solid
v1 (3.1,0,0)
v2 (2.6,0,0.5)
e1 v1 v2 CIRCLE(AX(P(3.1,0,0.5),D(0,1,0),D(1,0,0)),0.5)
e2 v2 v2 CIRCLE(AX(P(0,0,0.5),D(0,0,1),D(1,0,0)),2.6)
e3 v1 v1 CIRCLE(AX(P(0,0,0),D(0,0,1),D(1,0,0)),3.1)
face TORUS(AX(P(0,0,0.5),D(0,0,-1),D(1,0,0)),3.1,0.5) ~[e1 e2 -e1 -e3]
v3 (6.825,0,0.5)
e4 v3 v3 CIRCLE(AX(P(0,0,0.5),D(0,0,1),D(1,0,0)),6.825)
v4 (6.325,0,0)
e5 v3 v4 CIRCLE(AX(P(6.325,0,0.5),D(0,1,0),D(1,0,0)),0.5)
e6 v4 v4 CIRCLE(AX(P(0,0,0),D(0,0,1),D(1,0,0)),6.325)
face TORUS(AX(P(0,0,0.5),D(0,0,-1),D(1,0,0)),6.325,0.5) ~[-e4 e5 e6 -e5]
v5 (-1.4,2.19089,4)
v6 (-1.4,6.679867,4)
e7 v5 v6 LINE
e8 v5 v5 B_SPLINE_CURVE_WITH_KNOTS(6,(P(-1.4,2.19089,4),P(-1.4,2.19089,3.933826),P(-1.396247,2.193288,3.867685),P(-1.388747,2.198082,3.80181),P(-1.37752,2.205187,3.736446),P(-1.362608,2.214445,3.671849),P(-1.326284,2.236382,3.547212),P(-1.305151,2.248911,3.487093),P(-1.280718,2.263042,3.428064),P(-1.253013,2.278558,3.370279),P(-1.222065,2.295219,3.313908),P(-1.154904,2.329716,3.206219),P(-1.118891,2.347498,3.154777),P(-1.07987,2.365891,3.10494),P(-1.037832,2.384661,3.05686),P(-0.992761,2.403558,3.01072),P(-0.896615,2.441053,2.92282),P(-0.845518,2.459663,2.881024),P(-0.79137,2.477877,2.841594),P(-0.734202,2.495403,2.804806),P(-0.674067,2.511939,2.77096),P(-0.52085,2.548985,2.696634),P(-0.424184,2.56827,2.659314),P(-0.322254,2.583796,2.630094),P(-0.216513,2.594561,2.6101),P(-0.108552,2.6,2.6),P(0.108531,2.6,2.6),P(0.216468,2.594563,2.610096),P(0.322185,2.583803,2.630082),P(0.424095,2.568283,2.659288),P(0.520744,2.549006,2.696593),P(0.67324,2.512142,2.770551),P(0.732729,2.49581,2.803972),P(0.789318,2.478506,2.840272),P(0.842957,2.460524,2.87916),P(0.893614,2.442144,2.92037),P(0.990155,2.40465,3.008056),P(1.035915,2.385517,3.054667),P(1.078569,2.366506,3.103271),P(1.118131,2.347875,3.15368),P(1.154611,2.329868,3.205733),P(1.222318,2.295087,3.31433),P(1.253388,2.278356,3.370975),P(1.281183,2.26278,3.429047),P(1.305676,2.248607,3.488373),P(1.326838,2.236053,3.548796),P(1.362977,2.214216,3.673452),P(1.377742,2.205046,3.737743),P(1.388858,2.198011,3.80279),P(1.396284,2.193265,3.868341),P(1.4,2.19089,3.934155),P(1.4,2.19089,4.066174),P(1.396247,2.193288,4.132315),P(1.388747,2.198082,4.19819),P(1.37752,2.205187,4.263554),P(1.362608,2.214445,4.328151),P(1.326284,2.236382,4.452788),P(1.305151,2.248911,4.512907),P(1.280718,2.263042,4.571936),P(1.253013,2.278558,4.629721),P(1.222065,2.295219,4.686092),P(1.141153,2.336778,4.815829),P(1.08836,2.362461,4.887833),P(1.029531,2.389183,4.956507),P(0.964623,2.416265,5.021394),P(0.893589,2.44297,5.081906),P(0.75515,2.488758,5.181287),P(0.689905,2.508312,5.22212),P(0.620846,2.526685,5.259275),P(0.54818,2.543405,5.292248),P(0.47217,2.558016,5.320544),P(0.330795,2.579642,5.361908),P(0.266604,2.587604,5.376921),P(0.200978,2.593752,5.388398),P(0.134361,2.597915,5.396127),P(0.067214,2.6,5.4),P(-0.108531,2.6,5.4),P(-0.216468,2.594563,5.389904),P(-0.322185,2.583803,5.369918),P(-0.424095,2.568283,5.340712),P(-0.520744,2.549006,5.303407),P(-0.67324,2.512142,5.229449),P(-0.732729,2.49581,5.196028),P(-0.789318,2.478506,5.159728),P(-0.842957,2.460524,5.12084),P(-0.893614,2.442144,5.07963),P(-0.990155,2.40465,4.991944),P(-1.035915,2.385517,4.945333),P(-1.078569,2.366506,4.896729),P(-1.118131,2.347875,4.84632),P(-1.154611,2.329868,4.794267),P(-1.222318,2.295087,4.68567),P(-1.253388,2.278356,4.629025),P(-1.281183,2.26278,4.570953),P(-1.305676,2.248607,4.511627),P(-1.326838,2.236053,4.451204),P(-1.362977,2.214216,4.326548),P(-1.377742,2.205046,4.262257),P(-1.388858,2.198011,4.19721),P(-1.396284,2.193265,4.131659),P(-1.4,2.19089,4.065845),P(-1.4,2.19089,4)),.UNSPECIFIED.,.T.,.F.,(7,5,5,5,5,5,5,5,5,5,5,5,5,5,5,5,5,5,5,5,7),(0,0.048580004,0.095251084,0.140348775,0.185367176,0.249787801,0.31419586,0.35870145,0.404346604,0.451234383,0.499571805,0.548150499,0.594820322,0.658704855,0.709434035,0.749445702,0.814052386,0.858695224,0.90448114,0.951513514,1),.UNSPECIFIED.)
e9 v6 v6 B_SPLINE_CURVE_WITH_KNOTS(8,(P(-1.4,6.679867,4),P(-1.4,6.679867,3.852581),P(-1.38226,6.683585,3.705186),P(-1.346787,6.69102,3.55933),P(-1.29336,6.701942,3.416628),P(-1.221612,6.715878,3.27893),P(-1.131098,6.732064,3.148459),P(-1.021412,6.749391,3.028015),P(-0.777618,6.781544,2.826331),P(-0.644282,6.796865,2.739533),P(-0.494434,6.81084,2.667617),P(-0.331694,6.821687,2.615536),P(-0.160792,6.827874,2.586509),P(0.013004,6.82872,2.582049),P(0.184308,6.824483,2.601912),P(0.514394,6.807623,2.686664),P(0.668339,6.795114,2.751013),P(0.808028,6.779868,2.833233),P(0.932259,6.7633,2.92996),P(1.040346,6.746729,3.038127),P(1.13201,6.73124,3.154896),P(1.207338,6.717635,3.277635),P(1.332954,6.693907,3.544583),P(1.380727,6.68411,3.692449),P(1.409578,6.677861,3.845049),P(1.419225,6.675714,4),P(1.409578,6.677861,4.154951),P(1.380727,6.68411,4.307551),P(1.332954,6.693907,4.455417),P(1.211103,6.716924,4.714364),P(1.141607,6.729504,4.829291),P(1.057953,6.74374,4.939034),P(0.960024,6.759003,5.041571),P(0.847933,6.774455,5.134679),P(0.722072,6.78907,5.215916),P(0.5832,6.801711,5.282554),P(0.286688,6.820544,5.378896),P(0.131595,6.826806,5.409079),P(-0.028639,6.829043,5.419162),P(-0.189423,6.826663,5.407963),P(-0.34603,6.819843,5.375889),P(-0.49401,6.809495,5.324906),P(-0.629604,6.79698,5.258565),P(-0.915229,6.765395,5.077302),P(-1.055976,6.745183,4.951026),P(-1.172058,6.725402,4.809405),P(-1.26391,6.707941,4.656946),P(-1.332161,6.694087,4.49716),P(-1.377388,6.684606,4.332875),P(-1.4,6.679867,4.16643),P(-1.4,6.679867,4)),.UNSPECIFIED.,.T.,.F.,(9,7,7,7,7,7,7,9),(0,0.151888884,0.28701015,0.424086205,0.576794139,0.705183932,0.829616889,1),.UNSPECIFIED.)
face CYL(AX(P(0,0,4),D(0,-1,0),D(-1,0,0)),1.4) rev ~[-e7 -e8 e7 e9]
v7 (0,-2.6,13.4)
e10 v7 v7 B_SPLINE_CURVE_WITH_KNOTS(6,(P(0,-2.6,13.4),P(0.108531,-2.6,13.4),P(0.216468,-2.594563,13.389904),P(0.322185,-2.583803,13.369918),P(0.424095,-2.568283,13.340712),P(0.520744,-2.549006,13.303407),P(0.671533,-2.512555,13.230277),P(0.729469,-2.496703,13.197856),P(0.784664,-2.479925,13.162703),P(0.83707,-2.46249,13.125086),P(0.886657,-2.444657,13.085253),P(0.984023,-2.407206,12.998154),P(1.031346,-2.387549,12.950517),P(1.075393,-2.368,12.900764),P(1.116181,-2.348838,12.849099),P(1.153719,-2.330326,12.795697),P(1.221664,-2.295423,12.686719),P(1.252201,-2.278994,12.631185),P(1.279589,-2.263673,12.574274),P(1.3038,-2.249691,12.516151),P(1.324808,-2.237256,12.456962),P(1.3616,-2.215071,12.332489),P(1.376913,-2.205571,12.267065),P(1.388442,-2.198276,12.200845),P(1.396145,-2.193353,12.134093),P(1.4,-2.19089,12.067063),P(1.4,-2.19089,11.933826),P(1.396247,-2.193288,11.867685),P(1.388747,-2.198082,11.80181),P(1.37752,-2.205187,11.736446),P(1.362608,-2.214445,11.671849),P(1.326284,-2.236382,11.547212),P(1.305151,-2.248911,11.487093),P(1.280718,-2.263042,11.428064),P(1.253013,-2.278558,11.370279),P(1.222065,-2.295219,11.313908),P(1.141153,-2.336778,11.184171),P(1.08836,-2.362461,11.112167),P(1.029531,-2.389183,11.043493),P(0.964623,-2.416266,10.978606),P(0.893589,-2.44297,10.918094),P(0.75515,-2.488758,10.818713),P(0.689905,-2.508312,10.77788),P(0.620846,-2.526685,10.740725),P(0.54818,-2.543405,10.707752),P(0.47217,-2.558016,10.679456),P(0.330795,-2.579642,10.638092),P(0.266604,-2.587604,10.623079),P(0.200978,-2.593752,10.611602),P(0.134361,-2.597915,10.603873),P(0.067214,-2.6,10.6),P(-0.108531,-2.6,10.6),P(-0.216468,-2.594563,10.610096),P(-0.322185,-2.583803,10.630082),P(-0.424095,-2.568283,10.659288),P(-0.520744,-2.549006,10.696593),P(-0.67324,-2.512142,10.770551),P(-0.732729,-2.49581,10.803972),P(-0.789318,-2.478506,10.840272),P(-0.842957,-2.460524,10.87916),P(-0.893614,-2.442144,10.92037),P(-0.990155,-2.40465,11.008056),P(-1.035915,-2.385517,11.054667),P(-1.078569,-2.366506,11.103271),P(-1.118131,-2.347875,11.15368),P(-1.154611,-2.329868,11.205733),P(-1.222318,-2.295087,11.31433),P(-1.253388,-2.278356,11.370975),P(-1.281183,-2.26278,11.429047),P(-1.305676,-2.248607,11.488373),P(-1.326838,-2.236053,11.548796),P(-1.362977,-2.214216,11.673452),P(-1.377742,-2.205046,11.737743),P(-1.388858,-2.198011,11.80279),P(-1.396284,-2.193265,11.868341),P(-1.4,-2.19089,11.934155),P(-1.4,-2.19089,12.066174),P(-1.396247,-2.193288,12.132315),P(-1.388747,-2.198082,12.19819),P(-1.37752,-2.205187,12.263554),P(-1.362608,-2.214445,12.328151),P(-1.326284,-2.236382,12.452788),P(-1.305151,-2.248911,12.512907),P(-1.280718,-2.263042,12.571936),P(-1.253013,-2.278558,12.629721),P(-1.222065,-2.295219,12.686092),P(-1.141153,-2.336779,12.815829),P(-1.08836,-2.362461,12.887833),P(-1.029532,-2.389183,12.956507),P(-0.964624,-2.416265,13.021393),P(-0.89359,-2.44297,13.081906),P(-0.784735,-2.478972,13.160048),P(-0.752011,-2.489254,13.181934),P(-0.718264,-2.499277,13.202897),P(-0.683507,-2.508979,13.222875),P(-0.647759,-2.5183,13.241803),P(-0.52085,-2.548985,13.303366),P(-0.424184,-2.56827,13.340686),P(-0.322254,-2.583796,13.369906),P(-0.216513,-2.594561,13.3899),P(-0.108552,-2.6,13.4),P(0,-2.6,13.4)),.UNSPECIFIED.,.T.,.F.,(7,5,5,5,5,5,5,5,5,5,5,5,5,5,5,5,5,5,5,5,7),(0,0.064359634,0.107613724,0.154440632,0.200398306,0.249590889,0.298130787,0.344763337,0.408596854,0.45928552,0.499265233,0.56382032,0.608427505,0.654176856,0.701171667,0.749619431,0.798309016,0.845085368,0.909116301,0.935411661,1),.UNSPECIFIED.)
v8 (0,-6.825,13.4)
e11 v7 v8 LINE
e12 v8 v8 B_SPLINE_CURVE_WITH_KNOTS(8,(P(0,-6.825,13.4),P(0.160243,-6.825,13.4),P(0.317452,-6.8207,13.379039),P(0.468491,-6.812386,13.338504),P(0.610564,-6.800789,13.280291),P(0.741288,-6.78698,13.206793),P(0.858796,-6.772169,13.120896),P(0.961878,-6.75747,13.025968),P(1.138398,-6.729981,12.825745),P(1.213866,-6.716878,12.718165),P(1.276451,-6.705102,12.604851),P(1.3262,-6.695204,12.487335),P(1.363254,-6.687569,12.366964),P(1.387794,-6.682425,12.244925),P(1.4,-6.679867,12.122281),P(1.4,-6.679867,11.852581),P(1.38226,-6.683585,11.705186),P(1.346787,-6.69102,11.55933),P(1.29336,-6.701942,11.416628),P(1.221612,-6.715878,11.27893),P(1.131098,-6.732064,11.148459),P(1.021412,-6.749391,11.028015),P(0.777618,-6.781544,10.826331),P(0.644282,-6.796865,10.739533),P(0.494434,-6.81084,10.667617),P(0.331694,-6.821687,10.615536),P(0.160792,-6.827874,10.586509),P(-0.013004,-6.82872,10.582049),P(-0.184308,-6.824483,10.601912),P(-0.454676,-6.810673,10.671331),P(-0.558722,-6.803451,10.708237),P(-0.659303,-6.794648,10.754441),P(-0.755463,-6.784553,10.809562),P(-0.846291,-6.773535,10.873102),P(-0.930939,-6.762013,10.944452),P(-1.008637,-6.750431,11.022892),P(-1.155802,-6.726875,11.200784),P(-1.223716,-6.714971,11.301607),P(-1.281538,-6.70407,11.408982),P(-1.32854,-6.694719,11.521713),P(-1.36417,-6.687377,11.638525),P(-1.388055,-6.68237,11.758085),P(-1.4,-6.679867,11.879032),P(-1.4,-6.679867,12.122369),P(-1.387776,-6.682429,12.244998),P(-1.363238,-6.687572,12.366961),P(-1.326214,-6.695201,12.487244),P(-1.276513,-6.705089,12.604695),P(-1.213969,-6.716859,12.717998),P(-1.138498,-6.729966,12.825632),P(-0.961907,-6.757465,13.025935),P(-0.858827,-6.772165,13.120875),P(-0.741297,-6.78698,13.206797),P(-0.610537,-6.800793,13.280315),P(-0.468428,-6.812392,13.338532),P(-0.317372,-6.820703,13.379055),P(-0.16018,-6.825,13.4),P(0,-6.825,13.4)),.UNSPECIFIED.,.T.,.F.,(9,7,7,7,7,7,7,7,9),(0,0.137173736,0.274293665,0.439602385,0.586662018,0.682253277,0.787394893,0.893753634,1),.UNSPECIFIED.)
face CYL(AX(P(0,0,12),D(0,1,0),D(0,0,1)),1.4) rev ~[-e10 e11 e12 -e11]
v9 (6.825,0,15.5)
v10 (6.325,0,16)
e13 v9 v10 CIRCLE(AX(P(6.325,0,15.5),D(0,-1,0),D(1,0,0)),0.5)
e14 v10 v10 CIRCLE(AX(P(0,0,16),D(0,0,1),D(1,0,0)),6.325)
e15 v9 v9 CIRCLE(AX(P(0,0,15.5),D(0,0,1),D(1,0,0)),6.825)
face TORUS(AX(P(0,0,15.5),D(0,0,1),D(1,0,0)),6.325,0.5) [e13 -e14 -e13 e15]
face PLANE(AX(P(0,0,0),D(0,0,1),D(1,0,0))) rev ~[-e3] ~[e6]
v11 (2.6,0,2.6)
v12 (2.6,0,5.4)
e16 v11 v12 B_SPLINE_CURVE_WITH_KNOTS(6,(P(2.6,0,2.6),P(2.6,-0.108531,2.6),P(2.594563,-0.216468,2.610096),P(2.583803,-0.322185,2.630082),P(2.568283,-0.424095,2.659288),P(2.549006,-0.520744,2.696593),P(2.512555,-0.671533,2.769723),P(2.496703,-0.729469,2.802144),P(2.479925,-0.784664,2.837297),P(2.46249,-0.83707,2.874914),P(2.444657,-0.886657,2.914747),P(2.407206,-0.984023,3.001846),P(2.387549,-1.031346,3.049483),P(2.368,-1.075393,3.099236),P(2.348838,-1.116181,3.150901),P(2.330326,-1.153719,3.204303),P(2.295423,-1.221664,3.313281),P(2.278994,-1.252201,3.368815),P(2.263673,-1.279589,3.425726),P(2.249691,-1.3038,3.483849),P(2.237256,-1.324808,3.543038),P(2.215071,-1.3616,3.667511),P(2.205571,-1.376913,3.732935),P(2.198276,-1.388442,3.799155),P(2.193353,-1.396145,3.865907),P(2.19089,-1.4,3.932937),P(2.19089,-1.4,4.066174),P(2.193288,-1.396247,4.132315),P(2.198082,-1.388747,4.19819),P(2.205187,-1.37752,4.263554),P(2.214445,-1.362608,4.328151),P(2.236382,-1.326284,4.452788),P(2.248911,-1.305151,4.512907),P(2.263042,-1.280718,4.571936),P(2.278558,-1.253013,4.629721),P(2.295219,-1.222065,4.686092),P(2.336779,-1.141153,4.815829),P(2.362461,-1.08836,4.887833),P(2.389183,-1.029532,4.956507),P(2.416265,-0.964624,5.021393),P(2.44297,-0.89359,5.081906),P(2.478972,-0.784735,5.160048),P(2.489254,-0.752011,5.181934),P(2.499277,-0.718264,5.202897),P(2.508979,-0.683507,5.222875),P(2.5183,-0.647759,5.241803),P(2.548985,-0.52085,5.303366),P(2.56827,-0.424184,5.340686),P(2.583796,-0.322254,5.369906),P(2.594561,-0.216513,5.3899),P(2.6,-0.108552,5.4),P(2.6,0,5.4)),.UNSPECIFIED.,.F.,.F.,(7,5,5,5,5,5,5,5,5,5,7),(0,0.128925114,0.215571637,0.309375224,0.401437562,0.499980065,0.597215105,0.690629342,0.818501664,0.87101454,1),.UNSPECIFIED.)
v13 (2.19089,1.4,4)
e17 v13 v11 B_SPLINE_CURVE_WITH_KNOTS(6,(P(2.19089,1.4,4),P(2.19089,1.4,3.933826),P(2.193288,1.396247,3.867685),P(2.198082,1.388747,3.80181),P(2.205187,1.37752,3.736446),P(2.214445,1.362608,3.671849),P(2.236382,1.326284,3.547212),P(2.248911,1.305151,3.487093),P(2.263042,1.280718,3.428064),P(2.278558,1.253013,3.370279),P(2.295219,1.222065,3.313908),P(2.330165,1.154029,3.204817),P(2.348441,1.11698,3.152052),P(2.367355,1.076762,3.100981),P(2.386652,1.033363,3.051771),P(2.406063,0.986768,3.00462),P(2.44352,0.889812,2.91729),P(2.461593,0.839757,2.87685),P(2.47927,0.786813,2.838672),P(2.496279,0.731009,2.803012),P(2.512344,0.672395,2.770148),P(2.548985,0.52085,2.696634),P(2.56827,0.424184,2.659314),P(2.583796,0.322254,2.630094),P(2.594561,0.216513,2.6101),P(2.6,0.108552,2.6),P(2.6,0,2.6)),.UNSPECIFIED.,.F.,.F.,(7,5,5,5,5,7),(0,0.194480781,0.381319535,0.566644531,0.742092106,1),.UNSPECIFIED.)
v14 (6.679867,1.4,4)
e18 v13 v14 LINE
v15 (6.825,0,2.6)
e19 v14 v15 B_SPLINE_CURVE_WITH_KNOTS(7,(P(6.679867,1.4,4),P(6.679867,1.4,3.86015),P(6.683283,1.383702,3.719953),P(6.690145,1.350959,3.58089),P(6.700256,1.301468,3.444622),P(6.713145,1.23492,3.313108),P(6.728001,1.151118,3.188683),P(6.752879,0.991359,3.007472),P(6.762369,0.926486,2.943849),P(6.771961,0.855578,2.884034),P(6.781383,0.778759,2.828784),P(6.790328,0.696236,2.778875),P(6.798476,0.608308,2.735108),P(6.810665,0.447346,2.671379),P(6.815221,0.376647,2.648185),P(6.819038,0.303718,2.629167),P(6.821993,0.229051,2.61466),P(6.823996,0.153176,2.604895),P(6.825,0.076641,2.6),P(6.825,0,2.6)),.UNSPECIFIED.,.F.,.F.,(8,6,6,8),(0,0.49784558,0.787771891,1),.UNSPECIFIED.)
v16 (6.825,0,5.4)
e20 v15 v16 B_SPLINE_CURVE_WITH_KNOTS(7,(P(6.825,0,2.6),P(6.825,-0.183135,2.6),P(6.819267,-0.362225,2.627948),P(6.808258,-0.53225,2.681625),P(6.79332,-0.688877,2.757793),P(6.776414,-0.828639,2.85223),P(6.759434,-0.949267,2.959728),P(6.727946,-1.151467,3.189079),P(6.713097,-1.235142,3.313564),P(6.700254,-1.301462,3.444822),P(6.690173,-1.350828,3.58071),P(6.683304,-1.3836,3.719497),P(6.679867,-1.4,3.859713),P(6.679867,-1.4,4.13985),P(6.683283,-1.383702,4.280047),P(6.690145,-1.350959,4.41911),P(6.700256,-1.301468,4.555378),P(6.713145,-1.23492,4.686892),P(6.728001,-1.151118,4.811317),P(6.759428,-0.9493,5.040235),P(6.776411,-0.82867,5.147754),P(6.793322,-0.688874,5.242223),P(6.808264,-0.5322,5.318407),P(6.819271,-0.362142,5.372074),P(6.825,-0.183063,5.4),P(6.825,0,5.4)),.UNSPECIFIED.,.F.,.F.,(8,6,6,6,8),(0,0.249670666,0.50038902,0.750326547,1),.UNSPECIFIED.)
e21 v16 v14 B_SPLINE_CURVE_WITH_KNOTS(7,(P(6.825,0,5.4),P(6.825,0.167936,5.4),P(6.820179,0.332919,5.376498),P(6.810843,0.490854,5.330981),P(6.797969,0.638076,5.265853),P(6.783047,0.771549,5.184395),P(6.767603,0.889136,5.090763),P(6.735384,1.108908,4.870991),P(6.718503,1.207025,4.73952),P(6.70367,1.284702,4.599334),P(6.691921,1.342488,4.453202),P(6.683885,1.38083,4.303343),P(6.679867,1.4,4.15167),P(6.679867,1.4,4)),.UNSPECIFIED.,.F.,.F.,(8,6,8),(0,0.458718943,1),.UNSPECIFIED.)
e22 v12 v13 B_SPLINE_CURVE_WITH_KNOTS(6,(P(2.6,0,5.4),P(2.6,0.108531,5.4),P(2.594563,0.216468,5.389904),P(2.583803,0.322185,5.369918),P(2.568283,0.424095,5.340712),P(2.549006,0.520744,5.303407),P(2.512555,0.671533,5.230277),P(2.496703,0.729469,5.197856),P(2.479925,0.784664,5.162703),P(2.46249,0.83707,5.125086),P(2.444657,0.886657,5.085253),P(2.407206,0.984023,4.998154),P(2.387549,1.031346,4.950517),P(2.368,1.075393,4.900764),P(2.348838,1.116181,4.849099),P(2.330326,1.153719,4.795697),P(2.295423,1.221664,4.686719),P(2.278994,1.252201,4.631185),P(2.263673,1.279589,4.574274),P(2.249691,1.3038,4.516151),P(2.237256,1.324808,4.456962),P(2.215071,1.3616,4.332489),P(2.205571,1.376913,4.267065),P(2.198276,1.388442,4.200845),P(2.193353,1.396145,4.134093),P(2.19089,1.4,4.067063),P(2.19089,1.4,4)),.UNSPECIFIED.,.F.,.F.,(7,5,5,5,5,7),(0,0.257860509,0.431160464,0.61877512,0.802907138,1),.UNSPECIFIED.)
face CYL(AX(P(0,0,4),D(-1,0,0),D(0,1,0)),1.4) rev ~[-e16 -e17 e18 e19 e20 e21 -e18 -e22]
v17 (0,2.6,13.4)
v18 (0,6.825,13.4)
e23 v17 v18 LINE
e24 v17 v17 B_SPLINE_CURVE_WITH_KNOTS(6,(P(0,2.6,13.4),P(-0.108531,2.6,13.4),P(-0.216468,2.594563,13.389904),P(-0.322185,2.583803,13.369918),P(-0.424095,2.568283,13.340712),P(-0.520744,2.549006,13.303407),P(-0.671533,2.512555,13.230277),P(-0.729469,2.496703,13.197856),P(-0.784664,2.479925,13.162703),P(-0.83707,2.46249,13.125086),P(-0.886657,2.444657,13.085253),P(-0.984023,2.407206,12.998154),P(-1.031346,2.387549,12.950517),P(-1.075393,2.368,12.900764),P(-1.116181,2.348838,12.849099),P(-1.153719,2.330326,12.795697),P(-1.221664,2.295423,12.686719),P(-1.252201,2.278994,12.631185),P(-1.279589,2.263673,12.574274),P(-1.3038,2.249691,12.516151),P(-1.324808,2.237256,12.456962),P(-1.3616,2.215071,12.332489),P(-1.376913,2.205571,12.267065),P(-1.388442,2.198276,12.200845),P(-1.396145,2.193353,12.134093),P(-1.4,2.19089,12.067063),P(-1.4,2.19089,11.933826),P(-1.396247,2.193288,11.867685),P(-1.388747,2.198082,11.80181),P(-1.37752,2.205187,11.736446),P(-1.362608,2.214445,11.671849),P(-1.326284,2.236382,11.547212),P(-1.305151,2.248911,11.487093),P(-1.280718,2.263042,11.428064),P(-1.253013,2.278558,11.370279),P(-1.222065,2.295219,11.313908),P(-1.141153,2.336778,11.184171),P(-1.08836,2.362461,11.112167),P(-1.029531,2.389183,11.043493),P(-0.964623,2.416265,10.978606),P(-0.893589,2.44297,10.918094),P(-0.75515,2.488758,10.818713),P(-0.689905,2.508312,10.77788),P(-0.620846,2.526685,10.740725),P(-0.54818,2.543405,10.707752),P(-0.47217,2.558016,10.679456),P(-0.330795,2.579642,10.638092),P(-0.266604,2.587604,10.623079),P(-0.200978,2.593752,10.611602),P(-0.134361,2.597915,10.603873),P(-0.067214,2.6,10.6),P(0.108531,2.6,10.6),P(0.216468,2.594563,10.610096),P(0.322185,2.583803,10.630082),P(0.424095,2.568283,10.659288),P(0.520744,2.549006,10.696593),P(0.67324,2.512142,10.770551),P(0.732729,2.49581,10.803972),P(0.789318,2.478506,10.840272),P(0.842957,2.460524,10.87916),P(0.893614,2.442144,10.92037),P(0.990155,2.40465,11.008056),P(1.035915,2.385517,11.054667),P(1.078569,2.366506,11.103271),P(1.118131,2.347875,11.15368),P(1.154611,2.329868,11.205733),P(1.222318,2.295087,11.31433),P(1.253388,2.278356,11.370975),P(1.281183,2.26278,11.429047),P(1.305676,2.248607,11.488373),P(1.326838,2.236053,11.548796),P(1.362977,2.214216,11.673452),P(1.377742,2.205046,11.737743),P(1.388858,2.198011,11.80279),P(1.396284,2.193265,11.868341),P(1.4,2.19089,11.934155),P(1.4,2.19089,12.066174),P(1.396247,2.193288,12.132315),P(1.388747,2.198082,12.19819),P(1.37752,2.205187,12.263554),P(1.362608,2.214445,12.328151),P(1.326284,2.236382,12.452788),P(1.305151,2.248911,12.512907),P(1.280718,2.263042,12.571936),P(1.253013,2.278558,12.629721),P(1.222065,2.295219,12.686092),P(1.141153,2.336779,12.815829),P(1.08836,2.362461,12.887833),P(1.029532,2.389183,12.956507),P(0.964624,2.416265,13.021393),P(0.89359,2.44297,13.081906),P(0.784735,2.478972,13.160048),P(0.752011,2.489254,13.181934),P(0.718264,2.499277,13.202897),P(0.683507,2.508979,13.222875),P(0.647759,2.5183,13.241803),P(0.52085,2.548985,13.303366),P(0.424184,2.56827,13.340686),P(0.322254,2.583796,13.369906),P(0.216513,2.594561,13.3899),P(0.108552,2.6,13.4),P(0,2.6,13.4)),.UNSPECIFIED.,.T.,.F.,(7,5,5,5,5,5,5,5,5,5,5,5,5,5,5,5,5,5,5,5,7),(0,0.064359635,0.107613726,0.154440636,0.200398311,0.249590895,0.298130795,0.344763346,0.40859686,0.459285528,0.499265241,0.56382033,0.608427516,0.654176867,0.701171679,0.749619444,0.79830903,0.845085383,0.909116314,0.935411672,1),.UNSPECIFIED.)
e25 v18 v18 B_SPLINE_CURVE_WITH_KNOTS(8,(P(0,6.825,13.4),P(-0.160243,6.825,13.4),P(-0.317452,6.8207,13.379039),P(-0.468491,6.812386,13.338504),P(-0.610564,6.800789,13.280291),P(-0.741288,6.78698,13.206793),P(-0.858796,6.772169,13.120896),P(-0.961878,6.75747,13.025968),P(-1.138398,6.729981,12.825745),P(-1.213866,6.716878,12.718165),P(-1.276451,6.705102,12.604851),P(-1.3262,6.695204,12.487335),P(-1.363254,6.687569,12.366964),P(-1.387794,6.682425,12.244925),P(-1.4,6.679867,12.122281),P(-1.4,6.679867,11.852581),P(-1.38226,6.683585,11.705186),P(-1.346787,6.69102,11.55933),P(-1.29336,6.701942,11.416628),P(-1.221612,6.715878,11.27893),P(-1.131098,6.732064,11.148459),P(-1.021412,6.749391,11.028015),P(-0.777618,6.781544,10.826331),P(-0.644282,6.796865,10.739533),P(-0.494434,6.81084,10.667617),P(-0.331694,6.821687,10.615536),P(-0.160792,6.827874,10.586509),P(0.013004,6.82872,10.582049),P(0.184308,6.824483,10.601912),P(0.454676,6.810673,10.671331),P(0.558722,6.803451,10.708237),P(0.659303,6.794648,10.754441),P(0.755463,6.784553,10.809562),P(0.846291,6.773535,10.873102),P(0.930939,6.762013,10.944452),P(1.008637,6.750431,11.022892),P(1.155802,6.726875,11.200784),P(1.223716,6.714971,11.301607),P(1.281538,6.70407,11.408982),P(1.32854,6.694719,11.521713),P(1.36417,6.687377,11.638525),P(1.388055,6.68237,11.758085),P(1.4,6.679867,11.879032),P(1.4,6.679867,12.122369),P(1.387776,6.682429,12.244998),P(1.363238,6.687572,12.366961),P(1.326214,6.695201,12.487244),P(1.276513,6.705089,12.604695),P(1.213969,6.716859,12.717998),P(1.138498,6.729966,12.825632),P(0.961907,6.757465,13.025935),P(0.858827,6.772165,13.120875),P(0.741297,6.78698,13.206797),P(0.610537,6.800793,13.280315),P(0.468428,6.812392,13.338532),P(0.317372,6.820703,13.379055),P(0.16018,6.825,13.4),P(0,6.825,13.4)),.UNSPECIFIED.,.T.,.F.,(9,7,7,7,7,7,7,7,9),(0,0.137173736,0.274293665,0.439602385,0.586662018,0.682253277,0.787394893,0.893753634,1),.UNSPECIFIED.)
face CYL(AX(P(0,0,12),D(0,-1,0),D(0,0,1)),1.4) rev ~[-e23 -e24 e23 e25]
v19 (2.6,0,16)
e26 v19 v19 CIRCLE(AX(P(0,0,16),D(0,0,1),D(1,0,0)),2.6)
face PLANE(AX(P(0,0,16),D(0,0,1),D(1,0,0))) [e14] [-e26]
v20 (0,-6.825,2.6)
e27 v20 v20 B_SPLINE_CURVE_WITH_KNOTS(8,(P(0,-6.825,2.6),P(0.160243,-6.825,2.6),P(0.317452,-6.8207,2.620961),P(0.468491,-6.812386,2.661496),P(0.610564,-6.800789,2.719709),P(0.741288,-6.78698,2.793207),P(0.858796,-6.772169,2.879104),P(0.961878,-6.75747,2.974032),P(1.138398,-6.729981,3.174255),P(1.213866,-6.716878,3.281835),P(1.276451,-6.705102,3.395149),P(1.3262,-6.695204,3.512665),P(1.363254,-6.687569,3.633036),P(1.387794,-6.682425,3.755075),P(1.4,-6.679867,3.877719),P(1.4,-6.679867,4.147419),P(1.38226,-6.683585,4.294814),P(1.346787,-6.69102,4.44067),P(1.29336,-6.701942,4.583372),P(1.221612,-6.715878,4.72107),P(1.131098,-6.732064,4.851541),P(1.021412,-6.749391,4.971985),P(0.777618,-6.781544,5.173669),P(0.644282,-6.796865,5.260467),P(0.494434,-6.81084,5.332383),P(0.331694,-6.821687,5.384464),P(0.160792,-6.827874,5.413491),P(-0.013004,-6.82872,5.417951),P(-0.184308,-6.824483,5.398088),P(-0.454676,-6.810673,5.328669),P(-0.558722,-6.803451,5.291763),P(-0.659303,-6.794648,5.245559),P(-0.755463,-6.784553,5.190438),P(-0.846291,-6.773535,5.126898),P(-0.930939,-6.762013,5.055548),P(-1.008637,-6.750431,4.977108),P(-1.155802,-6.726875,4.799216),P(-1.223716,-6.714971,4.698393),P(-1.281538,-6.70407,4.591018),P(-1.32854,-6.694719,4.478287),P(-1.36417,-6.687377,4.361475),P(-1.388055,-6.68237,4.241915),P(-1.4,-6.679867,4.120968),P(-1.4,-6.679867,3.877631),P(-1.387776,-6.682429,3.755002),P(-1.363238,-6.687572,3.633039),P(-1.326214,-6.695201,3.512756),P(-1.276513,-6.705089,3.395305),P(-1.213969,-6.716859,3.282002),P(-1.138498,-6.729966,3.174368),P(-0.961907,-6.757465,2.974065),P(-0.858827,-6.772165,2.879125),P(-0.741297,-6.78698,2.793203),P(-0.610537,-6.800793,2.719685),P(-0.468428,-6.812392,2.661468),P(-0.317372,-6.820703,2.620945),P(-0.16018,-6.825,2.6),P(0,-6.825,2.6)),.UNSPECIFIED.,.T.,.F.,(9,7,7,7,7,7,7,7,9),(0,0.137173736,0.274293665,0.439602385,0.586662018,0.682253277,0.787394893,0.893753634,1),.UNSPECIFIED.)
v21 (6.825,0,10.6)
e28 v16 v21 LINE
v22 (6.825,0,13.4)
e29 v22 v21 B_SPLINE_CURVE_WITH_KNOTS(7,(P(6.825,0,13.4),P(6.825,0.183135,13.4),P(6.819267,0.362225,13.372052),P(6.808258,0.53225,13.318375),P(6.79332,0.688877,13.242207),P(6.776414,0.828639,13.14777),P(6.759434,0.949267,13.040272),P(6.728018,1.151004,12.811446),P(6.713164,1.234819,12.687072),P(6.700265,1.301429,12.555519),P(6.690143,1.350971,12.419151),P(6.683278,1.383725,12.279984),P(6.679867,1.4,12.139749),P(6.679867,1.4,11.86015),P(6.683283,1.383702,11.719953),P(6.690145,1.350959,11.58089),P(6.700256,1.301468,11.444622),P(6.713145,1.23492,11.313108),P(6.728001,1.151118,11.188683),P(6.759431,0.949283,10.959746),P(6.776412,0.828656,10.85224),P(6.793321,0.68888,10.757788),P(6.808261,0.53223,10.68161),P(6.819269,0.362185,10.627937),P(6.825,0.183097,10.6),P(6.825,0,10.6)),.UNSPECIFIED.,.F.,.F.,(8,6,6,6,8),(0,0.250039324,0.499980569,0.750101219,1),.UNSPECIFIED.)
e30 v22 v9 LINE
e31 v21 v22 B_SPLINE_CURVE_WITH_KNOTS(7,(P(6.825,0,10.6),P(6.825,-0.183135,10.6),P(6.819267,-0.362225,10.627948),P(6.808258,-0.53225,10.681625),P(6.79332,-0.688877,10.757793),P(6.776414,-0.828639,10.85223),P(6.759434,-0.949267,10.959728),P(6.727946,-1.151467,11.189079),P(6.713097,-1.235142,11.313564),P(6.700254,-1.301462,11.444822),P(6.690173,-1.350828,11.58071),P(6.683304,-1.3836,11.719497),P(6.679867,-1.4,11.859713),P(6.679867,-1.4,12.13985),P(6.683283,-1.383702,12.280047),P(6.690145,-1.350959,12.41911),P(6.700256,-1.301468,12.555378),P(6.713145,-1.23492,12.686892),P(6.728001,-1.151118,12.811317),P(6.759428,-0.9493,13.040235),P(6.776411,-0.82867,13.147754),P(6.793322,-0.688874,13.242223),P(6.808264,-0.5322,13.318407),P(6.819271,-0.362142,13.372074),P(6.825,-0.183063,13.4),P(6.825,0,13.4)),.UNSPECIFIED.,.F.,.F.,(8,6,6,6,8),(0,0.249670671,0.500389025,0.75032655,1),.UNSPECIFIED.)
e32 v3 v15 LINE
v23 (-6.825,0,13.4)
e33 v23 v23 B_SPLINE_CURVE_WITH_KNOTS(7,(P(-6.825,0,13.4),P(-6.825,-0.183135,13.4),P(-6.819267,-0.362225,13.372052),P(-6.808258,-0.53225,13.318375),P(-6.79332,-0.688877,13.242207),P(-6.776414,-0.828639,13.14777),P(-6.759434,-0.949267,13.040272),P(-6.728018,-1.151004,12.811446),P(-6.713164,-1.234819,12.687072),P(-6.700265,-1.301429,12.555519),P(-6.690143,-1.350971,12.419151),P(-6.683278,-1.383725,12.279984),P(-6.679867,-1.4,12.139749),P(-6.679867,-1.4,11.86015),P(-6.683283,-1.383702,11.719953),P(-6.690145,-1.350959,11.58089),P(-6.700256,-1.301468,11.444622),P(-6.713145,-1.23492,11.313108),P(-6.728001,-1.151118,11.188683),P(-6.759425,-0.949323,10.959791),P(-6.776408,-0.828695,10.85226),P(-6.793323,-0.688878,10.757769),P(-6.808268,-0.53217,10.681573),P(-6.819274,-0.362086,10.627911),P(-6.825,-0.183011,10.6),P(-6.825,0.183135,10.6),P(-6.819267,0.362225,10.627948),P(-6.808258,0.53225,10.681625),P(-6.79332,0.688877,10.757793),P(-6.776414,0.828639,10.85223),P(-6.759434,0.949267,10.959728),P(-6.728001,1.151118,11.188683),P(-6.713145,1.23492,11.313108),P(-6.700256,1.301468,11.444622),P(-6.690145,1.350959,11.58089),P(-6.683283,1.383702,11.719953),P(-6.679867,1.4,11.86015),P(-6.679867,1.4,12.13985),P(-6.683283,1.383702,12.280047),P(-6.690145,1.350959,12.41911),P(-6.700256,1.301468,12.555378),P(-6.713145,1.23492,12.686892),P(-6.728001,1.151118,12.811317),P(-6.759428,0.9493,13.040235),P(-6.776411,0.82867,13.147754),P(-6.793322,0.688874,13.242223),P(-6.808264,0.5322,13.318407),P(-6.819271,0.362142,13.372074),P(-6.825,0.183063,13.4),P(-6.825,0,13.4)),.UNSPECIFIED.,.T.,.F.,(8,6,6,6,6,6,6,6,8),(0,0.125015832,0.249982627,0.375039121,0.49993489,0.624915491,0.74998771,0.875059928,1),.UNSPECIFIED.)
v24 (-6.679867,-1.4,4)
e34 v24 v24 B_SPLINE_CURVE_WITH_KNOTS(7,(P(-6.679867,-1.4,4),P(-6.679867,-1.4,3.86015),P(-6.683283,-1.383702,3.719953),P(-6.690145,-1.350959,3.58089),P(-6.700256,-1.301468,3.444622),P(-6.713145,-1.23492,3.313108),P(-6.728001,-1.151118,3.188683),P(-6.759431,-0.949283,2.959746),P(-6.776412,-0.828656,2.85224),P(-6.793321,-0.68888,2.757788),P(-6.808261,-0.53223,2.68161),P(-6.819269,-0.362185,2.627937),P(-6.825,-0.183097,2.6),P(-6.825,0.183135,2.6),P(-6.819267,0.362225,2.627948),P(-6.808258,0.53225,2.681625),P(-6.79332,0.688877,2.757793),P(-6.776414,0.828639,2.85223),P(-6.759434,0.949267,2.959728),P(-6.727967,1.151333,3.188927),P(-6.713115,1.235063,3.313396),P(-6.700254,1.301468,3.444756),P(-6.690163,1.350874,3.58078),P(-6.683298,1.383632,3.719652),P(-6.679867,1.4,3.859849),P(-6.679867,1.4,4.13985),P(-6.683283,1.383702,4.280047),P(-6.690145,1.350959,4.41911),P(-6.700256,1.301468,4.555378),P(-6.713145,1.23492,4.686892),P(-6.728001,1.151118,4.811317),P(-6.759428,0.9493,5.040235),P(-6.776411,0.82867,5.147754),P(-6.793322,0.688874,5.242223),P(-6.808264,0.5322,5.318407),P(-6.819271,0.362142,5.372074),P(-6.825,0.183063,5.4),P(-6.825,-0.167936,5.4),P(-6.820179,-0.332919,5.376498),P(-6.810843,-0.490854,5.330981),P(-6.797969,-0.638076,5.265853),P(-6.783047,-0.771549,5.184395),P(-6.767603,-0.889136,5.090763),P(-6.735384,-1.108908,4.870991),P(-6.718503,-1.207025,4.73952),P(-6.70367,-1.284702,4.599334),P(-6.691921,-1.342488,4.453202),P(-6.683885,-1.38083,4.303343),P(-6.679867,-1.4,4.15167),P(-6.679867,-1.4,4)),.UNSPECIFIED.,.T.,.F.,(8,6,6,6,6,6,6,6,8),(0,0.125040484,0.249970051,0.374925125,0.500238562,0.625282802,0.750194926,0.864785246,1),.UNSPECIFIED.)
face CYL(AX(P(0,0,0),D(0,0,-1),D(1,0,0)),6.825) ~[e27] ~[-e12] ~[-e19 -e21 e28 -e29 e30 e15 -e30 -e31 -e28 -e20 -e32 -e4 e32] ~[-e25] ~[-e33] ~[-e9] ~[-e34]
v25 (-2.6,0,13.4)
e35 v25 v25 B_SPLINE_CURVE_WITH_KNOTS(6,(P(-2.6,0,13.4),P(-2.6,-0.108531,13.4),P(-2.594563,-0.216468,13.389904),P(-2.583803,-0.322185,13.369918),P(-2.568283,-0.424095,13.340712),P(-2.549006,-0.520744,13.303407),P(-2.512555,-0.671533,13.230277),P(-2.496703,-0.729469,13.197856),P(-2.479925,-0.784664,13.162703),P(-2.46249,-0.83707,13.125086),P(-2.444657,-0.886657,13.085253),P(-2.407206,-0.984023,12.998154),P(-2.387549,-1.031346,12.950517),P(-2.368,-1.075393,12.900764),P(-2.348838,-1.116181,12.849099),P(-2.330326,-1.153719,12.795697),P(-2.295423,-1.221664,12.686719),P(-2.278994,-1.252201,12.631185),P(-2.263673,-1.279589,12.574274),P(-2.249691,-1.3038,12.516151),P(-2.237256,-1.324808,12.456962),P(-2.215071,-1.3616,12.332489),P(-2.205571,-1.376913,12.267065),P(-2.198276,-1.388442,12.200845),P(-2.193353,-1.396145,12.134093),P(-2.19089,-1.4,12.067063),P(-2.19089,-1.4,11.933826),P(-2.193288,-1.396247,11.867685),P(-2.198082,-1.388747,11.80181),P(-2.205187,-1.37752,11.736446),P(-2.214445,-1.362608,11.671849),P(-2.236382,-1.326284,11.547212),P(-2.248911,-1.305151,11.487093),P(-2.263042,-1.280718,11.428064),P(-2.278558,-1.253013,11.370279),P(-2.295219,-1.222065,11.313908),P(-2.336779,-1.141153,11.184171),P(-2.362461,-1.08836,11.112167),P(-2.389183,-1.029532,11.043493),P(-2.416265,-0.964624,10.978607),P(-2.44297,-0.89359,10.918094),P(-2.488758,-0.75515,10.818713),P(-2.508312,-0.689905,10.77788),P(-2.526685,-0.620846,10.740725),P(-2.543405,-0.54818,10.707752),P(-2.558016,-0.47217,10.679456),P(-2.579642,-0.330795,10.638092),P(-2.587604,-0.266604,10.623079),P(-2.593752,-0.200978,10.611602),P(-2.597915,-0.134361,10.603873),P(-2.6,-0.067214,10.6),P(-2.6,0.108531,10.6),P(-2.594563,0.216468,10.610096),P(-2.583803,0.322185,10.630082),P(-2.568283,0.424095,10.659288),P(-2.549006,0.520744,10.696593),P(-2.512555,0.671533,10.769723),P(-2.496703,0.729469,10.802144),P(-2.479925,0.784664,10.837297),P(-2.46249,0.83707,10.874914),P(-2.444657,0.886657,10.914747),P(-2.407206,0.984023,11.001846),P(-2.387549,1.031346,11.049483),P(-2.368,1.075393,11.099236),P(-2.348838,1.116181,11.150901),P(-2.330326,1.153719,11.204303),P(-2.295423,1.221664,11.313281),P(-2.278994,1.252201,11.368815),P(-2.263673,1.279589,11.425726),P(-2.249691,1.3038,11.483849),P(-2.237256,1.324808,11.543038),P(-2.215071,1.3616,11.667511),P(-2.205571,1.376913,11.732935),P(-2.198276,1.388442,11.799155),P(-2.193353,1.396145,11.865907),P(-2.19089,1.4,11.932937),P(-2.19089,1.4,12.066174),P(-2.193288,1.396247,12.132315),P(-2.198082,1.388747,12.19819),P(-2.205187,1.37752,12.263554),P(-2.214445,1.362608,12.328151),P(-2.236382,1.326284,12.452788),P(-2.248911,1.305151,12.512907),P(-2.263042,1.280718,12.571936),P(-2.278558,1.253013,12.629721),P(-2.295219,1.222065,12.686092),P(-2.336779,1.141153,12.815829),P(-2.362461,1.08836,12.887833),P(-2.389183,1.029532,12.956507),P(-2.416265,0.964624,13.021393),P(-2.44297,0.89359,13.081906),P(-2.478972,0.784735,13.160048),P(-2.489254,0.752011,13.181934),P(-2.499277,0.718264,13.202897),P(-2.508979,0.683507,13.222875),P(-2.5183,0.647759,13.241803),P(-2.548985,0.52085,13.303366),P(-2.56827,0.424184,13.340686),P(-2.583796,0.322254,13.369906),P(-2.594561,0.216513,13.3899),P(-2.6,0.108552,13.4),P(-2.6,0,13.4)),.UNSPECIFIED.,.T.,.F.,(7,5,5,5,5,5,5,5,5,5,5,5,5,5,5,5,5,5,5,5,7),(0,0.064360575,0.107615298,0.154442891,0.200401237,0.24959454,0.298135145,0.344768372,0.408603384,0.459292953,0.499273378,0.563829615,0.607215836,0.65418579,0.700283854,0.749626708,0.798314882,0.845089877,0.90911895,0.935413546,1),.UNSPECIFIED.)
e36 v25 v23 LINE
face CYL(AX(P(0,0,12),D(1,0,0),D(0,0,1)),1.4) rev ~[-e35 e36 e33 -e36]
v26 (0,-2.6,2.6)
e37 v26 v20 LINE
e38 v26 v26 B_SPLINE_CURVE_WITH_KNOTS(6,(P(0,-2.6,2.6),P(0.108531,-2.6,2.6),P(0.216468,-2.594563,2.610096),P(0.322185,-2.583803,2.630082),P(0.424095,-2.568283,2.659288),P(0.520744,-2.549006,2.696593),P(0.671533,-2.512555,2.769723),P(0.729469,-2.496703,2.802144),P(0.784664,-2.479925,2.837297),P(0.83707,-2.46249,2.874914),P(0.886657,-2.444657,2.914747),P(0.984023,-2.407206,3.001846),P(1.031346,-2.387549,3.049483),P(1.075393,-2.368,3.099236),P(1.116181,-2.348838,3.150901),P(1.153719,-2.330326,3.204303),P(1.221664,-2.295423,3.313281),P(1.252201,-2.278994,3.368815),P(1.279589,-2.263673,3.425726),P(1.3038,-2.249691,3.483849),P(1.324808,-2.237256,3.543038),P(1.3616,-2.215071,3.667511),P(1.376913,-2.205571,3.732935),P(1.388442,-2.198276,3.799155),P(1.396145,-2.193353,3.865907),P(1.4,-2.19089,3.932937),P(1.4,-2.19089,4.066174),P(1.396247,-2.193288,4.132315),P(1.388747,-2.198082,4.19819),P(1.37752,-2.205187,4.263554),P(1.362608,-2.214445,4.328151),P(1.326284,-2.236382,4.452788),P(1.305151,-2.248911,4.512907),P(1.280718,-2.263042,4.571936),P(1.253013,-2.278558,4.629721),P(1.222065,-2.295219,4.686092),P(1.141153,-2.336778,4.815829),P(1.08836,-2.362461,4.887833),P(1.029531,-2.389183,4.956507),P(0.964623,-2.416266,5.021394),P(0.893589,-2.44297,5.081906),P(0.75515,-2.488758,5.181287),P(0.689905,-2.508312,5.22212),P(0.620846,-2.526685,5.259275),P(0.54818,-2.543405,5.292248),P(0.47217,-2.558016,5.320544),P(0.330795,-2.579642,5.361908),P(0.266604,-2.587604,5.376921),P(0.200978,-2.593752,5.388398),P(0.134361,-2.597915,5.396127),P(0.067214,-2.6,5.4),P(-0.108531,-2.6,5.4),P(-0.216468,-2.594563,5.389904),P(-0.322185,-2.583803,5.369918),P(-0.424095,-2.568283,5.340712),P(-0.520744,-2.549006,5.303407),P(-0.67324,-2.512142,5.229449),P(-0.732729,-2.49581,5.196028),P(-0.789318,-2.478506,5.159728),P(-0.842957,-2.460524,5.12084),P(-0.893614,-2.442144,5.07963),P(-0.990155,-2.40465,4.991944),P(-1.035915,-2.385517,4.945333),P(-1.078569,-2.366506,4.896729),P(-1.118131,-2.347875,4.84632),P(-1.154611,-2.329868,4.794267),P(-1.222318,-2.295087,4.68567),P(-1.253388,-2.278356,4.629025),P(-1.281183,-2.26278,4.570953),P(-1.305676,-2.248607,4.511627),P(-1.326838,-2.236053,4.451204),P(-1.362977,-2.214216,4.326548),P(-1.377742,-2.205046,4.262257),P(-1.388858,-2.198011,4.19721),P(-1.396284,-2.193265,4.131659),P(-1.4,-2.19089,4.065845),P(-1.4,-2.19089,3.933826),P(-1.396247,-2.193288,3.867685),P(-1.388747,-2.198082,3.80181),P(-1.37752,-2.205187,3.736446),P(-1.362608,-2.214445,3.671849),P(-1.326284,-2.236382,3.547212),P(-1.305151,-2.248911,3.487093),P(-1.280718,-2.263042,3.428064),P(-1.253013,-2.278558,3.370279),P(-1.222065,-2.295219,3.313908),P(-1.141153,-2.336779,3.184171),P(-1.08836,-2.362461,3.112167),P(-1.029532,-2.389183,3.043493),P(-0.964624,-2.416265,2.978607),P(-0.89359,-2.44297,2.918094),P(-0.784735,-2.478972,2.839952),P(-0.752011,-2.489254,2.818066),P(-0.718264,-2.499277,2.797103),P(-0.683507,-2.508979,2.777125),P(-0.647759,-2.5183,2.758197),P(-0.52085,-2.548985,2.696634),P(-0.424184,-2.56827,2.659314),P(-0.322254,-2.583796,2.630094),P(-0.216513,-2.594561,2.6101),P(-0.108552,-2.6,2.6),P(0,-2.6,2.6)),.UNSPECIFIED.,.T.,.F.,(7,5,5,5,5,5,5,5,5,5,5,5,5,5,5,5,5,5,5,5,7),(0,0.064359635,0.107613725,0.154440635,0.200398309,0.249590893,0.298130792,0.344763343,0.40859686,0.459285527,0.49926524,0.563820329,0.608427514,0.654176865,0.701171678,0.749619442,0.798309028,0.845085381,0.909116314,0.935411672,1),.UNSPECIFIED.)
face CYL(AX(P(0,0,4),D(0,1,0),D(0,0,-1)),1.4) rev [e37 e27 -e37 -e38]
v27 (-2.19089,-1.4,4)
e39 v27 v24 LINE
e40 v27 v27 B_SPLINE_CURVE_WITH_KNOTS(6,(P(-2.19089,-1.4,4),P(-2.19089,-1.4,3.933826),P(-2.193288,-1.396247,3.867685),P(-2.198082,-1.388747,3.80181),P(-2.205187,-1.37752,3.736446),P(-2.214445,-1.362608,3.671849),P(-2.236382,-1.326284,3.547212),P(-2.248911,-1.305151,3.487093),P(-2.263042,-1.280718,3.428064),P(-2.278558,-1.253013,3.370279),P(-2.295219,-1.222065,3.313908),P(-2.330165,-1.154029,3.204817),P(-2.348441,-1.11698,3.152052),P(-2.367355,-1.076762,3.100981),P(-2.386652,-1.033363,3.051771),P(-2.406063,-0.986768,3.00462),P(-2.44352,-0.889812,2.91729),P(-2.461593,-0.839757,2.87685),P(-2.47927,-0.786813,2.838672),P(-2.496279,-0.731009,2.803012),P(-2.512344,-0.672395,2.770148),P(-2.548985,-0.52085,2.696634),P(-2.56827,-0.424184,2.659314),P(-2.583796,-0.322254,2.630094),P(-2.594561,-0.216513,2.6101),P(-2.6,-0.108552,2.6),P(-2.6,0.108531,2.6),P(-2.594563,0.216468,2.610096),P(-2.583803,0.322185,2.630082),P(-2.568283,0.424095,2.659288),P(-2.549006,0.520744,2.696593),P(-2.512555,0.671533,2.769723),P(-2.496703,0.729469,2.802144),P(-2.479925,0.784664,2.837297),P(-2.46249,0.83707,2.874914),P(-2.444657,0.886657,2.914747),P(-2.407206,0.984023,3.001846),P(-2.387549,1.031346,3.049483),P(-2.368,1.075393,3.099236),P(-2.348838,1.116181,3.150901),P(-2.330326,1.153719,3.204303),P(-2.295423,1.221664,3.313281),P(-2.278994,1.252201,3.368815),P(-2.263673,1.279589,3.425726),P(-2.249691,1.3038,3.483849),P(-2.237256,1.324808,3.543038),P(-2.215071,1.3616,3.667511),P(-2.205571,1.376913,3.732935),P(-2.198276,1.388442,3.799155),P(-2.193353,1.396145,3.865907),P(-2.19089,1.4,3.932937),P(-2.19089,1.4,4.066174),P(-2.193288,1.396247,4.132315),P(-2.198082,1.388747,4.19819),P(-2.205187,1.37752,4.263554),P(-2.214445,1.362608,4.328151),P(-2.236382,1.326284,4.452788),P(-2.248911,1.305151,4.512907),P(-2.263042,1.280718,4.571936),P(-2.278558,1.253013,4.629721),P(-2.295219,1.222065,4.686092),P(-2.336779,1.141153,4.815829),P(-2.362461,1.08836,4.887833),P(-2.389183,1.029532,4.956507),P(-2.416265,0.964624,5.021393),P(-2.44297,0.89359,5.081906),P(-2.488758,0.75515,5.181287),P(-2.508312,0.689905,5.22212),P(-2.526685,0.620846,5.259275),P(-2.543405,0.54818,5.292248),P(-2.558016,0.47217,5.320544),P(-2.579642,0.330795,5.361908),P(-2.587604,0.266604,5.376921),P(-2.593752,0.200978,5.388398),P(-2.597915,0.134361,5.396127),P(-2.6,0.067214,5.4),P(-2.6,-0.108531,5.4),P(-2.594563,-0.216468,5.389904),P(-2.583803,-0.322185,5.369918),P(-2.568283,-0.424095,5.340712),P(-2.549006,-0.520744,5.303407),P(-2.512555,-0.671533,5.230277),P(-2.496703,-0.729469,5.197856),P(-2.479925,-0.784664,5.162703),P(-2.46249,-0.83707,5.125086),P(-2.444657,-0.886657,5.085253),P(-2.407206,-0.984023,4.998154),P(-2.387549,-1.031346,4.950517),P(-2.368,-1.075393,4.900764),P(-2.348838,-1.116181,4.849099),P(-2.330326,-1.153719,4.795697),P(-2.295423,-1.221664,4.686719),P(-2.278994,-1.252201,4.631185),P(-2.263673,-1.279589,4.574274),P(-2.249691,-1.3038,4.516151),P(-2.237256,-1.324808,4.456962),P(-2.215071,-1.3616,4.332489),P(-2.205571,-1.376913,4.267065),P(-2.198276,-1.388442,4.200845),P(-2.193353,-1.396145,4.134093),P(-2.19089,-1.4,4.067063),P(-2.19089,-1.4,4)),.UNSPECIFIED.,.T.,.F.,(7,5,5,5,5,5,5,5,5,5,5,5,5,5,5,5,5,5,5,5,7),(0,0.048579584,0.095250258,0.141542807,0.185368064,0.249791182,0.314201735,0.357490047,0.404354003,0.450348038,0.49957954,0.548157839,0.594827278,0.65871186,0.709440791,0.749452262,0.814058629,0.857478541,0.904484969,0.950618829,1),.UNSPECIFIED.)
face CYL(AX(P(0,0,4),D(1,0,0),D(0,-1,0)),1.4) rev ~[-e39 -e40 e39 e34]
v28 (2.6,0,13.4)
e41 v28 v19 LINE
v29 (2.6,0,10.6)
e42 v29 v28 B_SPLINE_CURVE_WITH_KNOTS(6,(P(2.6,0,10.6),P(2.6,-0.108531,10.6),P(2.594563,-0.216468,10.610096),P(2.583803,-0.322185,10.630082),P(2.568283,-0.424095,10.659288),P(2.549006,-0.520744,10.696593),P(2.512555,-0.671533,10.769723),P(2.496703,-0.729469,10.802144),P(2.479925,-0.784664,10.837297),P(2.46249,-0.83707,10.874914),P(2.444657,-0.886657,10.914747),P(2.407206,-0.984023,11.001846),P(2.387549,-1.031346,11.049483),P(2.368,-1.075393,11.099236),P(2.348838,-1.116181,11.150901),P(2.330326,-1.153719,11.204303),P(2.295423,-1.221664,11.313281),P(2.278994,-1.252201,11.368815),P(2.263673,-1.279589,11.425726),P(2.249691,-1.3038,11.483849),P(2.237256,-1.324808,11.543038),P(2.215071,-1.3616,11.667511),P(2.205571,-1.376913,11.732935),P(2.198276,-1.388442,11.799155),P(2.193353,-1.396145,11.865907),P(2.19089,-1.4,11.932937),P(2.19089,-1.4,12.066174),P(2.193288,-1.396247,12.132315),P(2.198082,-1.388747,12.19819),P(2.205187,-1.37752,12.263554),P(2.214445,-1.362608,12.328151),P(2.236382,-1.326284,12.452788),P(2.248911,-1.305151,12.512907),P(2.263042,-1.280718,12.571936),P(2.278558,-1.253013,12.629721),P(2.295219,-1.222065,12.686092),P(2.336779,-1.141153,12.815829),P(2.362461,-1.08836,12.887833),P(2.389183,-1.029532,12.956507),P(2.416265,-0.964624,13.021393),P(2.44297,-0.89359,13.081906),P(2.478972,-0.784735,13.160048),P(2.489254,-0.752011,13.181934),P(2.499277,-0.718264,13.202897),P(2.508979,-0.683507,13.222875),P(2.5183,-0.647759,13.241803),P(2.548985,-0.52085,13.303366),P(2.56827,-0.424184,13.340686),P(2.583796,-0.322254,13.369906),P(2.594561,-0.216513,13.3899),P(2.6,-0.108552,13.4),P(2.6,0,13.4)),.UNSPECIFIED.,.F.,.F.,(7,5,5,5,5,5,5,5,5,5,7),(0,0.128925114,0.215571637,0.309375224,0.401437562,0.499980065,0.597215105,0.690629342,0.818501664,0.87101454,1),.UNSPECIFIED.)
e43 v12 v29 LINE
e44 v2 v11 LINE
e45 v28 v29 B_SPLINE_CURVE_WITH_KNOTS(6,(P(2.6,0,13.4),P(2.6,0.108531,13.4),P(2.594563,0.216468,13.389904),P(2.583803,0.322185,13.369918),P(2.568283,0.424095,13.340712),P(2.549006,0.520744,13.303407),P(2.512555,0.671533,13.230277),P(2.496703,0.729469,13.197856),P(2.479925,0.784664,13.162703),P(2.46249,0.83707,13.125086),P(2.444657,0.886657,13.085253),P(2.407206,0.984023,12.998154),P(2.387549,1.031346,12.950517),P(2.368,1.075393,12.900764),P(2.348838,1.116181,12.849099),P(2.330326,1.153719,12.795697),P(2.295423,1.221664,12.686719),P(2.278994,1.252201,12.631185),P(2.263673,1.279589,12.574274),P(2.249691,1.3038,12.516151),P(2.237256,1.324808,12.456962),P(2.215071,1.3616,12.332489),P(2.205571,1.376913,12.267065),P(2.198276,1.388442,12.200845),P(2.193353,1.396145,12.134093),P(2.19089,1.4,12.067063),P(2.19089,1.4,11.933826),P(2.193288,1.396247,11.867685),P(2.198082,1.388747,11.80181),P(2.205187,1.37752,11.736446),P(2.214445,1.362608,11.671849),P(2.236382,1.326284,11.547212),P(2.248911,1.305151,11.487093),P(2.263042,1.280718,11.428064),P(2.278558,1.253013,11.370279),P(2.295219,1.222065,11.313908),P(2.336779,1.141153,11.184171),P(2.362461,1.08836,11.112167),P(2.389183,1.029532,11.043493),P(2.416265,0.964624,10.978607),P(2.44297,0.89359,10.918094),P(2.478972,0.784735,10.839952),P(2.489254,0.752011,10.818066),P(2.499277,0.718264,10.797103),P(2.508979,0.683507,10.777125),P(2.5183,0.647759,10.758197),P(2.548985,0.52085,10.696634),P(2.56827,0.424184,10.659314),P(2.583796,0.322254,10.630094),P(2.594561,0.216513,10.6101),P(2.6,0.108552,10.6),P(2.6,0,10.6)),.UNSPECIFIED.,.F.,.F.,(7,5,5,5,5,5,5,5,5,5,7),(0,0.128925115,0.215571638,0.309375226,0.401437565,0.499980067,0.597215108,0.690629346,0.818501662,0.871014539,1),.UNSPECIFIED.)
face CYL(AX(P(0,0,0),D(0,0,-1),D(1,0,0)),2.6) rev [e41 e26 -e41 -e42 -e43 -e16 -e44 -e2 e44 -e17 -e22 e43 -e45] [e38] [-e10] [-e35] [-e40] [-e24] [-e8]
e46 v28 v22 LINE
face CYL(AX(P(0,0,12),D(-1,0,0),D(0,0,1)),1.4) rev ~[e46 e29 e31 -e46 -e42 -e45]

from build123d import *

# Parameters (mm, degrees)
SKETCH1_R               = 6.825
SKETCH1_R_2             = 2.6
BOSS_EXTRUDE1_DEPTH     = 16
SKETCH3_R               = 1.4
CUT_EXTRUDE2_DEPTH      = 10
CIRPATTERN1_COUNT       = 4
FILLET1_R               = 0.5
MIRROR1_COPY_1_SKETCH_R = 1.4
MIRROR1_COPY_1_DEPTH    = 10
MIRROR1_COPY_2_SKETCH_R = 1.4
MIRROR1_COPY_2_DEPTH    = 10
MIRROR1_COPY_3_SKETCH_R = 1.4
MIRROR1_COPY_3_DEPTH    = 10


with BuildPart() as part:
    # Sketch1 → Boss-Extrude1 (new body)
    with BuildSketch(Plane.XY):
        Circle(SKETCH1_R)
        Circle(SKETCH1_R_2, mode=Mode.SUBTRACT)
    extrude(amount=BOSS_EXTRUDE1_DEPTH)

    # Sketch3 → Cut-Extrude2 (cut)
    with BuildSketch(Plane(origin=(0, 0, 0), x_dir=(1, 0, 0), z_dir=(0, 1, 0))):
        with Locations(Location((0, -12, 0), (0, 0, 270))):
            Circle(SKETCH3_R)
    cut_extrude2 = extrude(amount=-CUT_EXTRUDE2_DEPTH, mode=Mode.SUBTRACT)

    # CirPattern1: Cut-Extrude2 ×4 about axis
    cirpattern1_axis = Axis((0, 0, 16), (0, 0, -1))
    for i in range(1, CIRPATTERN1_COUNT):
        add(cut_extrude2.rotate(cirpattern1_axis, i * 360 / CIRPATTERN1_COUNT), mode=Mode.SUBTRACT)

    # Fillet1
    fillet1_edges = [part.edges().sort_by_distance(p)[0] for p in [
        (-6.825, 0, 0),
        (-6.825, 0, 16),
        (-2.6, 0, 0),
    ]]
    fillet(fillet1_edges, radius=FILLET1_R)

    # Mirror1: Cut-Extrude2 across plane
    add(cut_extrude2.mirror(Plane.XY.offset(8)), mode=Mode.SUBTRACT)

    # Mirror1 copy 1 sketch → Mirror1 copy 1 (cut)
    with BuildSketch(Plane(origin=(0, 0, 16), x_dir=(0, -1, 0), z_dir=(1, 0, 0))):
        with Locations((0, 12)):
            Circle(MIRROR1_COPY_1_SKETCH_R)
    extrude(amount=-MIRROR1_COPY_1_DEPTH, mode=Mode.SUBTRACT)

    # Mirror1 copy 2 sketch → Mirror1 copy 2 (cut)
    with BuildSketch(Plane(origin=(0, 0, 16), x_dir=(-1, 0, 0), z_dir=(0, -1, 0))):
        with Locations((0, 12)):
            Circle(MIRROR1_COPY_2_SKETCH_R)
    extrude(amount=-MIRROR1_COPY_2_DEPTH, mode=Mode.SUBTRACT)

    # Mirror1 copy 3 sketch → Mirror1 copy 3 (cut)
    with BuildSketch(Plane(origin=(0, 0, 16), x_dir=(0, 1, 0), z_dir=(-1, 0, 0))):
        with Locations((0, 12)):
            Circle(MIRROR1_COPY_3_SKETCH_R)
    extrude(amount=-MIRROR1_COPY_3_DEPTH, mode=Mode.SUBTRACT)


solid = part.part
